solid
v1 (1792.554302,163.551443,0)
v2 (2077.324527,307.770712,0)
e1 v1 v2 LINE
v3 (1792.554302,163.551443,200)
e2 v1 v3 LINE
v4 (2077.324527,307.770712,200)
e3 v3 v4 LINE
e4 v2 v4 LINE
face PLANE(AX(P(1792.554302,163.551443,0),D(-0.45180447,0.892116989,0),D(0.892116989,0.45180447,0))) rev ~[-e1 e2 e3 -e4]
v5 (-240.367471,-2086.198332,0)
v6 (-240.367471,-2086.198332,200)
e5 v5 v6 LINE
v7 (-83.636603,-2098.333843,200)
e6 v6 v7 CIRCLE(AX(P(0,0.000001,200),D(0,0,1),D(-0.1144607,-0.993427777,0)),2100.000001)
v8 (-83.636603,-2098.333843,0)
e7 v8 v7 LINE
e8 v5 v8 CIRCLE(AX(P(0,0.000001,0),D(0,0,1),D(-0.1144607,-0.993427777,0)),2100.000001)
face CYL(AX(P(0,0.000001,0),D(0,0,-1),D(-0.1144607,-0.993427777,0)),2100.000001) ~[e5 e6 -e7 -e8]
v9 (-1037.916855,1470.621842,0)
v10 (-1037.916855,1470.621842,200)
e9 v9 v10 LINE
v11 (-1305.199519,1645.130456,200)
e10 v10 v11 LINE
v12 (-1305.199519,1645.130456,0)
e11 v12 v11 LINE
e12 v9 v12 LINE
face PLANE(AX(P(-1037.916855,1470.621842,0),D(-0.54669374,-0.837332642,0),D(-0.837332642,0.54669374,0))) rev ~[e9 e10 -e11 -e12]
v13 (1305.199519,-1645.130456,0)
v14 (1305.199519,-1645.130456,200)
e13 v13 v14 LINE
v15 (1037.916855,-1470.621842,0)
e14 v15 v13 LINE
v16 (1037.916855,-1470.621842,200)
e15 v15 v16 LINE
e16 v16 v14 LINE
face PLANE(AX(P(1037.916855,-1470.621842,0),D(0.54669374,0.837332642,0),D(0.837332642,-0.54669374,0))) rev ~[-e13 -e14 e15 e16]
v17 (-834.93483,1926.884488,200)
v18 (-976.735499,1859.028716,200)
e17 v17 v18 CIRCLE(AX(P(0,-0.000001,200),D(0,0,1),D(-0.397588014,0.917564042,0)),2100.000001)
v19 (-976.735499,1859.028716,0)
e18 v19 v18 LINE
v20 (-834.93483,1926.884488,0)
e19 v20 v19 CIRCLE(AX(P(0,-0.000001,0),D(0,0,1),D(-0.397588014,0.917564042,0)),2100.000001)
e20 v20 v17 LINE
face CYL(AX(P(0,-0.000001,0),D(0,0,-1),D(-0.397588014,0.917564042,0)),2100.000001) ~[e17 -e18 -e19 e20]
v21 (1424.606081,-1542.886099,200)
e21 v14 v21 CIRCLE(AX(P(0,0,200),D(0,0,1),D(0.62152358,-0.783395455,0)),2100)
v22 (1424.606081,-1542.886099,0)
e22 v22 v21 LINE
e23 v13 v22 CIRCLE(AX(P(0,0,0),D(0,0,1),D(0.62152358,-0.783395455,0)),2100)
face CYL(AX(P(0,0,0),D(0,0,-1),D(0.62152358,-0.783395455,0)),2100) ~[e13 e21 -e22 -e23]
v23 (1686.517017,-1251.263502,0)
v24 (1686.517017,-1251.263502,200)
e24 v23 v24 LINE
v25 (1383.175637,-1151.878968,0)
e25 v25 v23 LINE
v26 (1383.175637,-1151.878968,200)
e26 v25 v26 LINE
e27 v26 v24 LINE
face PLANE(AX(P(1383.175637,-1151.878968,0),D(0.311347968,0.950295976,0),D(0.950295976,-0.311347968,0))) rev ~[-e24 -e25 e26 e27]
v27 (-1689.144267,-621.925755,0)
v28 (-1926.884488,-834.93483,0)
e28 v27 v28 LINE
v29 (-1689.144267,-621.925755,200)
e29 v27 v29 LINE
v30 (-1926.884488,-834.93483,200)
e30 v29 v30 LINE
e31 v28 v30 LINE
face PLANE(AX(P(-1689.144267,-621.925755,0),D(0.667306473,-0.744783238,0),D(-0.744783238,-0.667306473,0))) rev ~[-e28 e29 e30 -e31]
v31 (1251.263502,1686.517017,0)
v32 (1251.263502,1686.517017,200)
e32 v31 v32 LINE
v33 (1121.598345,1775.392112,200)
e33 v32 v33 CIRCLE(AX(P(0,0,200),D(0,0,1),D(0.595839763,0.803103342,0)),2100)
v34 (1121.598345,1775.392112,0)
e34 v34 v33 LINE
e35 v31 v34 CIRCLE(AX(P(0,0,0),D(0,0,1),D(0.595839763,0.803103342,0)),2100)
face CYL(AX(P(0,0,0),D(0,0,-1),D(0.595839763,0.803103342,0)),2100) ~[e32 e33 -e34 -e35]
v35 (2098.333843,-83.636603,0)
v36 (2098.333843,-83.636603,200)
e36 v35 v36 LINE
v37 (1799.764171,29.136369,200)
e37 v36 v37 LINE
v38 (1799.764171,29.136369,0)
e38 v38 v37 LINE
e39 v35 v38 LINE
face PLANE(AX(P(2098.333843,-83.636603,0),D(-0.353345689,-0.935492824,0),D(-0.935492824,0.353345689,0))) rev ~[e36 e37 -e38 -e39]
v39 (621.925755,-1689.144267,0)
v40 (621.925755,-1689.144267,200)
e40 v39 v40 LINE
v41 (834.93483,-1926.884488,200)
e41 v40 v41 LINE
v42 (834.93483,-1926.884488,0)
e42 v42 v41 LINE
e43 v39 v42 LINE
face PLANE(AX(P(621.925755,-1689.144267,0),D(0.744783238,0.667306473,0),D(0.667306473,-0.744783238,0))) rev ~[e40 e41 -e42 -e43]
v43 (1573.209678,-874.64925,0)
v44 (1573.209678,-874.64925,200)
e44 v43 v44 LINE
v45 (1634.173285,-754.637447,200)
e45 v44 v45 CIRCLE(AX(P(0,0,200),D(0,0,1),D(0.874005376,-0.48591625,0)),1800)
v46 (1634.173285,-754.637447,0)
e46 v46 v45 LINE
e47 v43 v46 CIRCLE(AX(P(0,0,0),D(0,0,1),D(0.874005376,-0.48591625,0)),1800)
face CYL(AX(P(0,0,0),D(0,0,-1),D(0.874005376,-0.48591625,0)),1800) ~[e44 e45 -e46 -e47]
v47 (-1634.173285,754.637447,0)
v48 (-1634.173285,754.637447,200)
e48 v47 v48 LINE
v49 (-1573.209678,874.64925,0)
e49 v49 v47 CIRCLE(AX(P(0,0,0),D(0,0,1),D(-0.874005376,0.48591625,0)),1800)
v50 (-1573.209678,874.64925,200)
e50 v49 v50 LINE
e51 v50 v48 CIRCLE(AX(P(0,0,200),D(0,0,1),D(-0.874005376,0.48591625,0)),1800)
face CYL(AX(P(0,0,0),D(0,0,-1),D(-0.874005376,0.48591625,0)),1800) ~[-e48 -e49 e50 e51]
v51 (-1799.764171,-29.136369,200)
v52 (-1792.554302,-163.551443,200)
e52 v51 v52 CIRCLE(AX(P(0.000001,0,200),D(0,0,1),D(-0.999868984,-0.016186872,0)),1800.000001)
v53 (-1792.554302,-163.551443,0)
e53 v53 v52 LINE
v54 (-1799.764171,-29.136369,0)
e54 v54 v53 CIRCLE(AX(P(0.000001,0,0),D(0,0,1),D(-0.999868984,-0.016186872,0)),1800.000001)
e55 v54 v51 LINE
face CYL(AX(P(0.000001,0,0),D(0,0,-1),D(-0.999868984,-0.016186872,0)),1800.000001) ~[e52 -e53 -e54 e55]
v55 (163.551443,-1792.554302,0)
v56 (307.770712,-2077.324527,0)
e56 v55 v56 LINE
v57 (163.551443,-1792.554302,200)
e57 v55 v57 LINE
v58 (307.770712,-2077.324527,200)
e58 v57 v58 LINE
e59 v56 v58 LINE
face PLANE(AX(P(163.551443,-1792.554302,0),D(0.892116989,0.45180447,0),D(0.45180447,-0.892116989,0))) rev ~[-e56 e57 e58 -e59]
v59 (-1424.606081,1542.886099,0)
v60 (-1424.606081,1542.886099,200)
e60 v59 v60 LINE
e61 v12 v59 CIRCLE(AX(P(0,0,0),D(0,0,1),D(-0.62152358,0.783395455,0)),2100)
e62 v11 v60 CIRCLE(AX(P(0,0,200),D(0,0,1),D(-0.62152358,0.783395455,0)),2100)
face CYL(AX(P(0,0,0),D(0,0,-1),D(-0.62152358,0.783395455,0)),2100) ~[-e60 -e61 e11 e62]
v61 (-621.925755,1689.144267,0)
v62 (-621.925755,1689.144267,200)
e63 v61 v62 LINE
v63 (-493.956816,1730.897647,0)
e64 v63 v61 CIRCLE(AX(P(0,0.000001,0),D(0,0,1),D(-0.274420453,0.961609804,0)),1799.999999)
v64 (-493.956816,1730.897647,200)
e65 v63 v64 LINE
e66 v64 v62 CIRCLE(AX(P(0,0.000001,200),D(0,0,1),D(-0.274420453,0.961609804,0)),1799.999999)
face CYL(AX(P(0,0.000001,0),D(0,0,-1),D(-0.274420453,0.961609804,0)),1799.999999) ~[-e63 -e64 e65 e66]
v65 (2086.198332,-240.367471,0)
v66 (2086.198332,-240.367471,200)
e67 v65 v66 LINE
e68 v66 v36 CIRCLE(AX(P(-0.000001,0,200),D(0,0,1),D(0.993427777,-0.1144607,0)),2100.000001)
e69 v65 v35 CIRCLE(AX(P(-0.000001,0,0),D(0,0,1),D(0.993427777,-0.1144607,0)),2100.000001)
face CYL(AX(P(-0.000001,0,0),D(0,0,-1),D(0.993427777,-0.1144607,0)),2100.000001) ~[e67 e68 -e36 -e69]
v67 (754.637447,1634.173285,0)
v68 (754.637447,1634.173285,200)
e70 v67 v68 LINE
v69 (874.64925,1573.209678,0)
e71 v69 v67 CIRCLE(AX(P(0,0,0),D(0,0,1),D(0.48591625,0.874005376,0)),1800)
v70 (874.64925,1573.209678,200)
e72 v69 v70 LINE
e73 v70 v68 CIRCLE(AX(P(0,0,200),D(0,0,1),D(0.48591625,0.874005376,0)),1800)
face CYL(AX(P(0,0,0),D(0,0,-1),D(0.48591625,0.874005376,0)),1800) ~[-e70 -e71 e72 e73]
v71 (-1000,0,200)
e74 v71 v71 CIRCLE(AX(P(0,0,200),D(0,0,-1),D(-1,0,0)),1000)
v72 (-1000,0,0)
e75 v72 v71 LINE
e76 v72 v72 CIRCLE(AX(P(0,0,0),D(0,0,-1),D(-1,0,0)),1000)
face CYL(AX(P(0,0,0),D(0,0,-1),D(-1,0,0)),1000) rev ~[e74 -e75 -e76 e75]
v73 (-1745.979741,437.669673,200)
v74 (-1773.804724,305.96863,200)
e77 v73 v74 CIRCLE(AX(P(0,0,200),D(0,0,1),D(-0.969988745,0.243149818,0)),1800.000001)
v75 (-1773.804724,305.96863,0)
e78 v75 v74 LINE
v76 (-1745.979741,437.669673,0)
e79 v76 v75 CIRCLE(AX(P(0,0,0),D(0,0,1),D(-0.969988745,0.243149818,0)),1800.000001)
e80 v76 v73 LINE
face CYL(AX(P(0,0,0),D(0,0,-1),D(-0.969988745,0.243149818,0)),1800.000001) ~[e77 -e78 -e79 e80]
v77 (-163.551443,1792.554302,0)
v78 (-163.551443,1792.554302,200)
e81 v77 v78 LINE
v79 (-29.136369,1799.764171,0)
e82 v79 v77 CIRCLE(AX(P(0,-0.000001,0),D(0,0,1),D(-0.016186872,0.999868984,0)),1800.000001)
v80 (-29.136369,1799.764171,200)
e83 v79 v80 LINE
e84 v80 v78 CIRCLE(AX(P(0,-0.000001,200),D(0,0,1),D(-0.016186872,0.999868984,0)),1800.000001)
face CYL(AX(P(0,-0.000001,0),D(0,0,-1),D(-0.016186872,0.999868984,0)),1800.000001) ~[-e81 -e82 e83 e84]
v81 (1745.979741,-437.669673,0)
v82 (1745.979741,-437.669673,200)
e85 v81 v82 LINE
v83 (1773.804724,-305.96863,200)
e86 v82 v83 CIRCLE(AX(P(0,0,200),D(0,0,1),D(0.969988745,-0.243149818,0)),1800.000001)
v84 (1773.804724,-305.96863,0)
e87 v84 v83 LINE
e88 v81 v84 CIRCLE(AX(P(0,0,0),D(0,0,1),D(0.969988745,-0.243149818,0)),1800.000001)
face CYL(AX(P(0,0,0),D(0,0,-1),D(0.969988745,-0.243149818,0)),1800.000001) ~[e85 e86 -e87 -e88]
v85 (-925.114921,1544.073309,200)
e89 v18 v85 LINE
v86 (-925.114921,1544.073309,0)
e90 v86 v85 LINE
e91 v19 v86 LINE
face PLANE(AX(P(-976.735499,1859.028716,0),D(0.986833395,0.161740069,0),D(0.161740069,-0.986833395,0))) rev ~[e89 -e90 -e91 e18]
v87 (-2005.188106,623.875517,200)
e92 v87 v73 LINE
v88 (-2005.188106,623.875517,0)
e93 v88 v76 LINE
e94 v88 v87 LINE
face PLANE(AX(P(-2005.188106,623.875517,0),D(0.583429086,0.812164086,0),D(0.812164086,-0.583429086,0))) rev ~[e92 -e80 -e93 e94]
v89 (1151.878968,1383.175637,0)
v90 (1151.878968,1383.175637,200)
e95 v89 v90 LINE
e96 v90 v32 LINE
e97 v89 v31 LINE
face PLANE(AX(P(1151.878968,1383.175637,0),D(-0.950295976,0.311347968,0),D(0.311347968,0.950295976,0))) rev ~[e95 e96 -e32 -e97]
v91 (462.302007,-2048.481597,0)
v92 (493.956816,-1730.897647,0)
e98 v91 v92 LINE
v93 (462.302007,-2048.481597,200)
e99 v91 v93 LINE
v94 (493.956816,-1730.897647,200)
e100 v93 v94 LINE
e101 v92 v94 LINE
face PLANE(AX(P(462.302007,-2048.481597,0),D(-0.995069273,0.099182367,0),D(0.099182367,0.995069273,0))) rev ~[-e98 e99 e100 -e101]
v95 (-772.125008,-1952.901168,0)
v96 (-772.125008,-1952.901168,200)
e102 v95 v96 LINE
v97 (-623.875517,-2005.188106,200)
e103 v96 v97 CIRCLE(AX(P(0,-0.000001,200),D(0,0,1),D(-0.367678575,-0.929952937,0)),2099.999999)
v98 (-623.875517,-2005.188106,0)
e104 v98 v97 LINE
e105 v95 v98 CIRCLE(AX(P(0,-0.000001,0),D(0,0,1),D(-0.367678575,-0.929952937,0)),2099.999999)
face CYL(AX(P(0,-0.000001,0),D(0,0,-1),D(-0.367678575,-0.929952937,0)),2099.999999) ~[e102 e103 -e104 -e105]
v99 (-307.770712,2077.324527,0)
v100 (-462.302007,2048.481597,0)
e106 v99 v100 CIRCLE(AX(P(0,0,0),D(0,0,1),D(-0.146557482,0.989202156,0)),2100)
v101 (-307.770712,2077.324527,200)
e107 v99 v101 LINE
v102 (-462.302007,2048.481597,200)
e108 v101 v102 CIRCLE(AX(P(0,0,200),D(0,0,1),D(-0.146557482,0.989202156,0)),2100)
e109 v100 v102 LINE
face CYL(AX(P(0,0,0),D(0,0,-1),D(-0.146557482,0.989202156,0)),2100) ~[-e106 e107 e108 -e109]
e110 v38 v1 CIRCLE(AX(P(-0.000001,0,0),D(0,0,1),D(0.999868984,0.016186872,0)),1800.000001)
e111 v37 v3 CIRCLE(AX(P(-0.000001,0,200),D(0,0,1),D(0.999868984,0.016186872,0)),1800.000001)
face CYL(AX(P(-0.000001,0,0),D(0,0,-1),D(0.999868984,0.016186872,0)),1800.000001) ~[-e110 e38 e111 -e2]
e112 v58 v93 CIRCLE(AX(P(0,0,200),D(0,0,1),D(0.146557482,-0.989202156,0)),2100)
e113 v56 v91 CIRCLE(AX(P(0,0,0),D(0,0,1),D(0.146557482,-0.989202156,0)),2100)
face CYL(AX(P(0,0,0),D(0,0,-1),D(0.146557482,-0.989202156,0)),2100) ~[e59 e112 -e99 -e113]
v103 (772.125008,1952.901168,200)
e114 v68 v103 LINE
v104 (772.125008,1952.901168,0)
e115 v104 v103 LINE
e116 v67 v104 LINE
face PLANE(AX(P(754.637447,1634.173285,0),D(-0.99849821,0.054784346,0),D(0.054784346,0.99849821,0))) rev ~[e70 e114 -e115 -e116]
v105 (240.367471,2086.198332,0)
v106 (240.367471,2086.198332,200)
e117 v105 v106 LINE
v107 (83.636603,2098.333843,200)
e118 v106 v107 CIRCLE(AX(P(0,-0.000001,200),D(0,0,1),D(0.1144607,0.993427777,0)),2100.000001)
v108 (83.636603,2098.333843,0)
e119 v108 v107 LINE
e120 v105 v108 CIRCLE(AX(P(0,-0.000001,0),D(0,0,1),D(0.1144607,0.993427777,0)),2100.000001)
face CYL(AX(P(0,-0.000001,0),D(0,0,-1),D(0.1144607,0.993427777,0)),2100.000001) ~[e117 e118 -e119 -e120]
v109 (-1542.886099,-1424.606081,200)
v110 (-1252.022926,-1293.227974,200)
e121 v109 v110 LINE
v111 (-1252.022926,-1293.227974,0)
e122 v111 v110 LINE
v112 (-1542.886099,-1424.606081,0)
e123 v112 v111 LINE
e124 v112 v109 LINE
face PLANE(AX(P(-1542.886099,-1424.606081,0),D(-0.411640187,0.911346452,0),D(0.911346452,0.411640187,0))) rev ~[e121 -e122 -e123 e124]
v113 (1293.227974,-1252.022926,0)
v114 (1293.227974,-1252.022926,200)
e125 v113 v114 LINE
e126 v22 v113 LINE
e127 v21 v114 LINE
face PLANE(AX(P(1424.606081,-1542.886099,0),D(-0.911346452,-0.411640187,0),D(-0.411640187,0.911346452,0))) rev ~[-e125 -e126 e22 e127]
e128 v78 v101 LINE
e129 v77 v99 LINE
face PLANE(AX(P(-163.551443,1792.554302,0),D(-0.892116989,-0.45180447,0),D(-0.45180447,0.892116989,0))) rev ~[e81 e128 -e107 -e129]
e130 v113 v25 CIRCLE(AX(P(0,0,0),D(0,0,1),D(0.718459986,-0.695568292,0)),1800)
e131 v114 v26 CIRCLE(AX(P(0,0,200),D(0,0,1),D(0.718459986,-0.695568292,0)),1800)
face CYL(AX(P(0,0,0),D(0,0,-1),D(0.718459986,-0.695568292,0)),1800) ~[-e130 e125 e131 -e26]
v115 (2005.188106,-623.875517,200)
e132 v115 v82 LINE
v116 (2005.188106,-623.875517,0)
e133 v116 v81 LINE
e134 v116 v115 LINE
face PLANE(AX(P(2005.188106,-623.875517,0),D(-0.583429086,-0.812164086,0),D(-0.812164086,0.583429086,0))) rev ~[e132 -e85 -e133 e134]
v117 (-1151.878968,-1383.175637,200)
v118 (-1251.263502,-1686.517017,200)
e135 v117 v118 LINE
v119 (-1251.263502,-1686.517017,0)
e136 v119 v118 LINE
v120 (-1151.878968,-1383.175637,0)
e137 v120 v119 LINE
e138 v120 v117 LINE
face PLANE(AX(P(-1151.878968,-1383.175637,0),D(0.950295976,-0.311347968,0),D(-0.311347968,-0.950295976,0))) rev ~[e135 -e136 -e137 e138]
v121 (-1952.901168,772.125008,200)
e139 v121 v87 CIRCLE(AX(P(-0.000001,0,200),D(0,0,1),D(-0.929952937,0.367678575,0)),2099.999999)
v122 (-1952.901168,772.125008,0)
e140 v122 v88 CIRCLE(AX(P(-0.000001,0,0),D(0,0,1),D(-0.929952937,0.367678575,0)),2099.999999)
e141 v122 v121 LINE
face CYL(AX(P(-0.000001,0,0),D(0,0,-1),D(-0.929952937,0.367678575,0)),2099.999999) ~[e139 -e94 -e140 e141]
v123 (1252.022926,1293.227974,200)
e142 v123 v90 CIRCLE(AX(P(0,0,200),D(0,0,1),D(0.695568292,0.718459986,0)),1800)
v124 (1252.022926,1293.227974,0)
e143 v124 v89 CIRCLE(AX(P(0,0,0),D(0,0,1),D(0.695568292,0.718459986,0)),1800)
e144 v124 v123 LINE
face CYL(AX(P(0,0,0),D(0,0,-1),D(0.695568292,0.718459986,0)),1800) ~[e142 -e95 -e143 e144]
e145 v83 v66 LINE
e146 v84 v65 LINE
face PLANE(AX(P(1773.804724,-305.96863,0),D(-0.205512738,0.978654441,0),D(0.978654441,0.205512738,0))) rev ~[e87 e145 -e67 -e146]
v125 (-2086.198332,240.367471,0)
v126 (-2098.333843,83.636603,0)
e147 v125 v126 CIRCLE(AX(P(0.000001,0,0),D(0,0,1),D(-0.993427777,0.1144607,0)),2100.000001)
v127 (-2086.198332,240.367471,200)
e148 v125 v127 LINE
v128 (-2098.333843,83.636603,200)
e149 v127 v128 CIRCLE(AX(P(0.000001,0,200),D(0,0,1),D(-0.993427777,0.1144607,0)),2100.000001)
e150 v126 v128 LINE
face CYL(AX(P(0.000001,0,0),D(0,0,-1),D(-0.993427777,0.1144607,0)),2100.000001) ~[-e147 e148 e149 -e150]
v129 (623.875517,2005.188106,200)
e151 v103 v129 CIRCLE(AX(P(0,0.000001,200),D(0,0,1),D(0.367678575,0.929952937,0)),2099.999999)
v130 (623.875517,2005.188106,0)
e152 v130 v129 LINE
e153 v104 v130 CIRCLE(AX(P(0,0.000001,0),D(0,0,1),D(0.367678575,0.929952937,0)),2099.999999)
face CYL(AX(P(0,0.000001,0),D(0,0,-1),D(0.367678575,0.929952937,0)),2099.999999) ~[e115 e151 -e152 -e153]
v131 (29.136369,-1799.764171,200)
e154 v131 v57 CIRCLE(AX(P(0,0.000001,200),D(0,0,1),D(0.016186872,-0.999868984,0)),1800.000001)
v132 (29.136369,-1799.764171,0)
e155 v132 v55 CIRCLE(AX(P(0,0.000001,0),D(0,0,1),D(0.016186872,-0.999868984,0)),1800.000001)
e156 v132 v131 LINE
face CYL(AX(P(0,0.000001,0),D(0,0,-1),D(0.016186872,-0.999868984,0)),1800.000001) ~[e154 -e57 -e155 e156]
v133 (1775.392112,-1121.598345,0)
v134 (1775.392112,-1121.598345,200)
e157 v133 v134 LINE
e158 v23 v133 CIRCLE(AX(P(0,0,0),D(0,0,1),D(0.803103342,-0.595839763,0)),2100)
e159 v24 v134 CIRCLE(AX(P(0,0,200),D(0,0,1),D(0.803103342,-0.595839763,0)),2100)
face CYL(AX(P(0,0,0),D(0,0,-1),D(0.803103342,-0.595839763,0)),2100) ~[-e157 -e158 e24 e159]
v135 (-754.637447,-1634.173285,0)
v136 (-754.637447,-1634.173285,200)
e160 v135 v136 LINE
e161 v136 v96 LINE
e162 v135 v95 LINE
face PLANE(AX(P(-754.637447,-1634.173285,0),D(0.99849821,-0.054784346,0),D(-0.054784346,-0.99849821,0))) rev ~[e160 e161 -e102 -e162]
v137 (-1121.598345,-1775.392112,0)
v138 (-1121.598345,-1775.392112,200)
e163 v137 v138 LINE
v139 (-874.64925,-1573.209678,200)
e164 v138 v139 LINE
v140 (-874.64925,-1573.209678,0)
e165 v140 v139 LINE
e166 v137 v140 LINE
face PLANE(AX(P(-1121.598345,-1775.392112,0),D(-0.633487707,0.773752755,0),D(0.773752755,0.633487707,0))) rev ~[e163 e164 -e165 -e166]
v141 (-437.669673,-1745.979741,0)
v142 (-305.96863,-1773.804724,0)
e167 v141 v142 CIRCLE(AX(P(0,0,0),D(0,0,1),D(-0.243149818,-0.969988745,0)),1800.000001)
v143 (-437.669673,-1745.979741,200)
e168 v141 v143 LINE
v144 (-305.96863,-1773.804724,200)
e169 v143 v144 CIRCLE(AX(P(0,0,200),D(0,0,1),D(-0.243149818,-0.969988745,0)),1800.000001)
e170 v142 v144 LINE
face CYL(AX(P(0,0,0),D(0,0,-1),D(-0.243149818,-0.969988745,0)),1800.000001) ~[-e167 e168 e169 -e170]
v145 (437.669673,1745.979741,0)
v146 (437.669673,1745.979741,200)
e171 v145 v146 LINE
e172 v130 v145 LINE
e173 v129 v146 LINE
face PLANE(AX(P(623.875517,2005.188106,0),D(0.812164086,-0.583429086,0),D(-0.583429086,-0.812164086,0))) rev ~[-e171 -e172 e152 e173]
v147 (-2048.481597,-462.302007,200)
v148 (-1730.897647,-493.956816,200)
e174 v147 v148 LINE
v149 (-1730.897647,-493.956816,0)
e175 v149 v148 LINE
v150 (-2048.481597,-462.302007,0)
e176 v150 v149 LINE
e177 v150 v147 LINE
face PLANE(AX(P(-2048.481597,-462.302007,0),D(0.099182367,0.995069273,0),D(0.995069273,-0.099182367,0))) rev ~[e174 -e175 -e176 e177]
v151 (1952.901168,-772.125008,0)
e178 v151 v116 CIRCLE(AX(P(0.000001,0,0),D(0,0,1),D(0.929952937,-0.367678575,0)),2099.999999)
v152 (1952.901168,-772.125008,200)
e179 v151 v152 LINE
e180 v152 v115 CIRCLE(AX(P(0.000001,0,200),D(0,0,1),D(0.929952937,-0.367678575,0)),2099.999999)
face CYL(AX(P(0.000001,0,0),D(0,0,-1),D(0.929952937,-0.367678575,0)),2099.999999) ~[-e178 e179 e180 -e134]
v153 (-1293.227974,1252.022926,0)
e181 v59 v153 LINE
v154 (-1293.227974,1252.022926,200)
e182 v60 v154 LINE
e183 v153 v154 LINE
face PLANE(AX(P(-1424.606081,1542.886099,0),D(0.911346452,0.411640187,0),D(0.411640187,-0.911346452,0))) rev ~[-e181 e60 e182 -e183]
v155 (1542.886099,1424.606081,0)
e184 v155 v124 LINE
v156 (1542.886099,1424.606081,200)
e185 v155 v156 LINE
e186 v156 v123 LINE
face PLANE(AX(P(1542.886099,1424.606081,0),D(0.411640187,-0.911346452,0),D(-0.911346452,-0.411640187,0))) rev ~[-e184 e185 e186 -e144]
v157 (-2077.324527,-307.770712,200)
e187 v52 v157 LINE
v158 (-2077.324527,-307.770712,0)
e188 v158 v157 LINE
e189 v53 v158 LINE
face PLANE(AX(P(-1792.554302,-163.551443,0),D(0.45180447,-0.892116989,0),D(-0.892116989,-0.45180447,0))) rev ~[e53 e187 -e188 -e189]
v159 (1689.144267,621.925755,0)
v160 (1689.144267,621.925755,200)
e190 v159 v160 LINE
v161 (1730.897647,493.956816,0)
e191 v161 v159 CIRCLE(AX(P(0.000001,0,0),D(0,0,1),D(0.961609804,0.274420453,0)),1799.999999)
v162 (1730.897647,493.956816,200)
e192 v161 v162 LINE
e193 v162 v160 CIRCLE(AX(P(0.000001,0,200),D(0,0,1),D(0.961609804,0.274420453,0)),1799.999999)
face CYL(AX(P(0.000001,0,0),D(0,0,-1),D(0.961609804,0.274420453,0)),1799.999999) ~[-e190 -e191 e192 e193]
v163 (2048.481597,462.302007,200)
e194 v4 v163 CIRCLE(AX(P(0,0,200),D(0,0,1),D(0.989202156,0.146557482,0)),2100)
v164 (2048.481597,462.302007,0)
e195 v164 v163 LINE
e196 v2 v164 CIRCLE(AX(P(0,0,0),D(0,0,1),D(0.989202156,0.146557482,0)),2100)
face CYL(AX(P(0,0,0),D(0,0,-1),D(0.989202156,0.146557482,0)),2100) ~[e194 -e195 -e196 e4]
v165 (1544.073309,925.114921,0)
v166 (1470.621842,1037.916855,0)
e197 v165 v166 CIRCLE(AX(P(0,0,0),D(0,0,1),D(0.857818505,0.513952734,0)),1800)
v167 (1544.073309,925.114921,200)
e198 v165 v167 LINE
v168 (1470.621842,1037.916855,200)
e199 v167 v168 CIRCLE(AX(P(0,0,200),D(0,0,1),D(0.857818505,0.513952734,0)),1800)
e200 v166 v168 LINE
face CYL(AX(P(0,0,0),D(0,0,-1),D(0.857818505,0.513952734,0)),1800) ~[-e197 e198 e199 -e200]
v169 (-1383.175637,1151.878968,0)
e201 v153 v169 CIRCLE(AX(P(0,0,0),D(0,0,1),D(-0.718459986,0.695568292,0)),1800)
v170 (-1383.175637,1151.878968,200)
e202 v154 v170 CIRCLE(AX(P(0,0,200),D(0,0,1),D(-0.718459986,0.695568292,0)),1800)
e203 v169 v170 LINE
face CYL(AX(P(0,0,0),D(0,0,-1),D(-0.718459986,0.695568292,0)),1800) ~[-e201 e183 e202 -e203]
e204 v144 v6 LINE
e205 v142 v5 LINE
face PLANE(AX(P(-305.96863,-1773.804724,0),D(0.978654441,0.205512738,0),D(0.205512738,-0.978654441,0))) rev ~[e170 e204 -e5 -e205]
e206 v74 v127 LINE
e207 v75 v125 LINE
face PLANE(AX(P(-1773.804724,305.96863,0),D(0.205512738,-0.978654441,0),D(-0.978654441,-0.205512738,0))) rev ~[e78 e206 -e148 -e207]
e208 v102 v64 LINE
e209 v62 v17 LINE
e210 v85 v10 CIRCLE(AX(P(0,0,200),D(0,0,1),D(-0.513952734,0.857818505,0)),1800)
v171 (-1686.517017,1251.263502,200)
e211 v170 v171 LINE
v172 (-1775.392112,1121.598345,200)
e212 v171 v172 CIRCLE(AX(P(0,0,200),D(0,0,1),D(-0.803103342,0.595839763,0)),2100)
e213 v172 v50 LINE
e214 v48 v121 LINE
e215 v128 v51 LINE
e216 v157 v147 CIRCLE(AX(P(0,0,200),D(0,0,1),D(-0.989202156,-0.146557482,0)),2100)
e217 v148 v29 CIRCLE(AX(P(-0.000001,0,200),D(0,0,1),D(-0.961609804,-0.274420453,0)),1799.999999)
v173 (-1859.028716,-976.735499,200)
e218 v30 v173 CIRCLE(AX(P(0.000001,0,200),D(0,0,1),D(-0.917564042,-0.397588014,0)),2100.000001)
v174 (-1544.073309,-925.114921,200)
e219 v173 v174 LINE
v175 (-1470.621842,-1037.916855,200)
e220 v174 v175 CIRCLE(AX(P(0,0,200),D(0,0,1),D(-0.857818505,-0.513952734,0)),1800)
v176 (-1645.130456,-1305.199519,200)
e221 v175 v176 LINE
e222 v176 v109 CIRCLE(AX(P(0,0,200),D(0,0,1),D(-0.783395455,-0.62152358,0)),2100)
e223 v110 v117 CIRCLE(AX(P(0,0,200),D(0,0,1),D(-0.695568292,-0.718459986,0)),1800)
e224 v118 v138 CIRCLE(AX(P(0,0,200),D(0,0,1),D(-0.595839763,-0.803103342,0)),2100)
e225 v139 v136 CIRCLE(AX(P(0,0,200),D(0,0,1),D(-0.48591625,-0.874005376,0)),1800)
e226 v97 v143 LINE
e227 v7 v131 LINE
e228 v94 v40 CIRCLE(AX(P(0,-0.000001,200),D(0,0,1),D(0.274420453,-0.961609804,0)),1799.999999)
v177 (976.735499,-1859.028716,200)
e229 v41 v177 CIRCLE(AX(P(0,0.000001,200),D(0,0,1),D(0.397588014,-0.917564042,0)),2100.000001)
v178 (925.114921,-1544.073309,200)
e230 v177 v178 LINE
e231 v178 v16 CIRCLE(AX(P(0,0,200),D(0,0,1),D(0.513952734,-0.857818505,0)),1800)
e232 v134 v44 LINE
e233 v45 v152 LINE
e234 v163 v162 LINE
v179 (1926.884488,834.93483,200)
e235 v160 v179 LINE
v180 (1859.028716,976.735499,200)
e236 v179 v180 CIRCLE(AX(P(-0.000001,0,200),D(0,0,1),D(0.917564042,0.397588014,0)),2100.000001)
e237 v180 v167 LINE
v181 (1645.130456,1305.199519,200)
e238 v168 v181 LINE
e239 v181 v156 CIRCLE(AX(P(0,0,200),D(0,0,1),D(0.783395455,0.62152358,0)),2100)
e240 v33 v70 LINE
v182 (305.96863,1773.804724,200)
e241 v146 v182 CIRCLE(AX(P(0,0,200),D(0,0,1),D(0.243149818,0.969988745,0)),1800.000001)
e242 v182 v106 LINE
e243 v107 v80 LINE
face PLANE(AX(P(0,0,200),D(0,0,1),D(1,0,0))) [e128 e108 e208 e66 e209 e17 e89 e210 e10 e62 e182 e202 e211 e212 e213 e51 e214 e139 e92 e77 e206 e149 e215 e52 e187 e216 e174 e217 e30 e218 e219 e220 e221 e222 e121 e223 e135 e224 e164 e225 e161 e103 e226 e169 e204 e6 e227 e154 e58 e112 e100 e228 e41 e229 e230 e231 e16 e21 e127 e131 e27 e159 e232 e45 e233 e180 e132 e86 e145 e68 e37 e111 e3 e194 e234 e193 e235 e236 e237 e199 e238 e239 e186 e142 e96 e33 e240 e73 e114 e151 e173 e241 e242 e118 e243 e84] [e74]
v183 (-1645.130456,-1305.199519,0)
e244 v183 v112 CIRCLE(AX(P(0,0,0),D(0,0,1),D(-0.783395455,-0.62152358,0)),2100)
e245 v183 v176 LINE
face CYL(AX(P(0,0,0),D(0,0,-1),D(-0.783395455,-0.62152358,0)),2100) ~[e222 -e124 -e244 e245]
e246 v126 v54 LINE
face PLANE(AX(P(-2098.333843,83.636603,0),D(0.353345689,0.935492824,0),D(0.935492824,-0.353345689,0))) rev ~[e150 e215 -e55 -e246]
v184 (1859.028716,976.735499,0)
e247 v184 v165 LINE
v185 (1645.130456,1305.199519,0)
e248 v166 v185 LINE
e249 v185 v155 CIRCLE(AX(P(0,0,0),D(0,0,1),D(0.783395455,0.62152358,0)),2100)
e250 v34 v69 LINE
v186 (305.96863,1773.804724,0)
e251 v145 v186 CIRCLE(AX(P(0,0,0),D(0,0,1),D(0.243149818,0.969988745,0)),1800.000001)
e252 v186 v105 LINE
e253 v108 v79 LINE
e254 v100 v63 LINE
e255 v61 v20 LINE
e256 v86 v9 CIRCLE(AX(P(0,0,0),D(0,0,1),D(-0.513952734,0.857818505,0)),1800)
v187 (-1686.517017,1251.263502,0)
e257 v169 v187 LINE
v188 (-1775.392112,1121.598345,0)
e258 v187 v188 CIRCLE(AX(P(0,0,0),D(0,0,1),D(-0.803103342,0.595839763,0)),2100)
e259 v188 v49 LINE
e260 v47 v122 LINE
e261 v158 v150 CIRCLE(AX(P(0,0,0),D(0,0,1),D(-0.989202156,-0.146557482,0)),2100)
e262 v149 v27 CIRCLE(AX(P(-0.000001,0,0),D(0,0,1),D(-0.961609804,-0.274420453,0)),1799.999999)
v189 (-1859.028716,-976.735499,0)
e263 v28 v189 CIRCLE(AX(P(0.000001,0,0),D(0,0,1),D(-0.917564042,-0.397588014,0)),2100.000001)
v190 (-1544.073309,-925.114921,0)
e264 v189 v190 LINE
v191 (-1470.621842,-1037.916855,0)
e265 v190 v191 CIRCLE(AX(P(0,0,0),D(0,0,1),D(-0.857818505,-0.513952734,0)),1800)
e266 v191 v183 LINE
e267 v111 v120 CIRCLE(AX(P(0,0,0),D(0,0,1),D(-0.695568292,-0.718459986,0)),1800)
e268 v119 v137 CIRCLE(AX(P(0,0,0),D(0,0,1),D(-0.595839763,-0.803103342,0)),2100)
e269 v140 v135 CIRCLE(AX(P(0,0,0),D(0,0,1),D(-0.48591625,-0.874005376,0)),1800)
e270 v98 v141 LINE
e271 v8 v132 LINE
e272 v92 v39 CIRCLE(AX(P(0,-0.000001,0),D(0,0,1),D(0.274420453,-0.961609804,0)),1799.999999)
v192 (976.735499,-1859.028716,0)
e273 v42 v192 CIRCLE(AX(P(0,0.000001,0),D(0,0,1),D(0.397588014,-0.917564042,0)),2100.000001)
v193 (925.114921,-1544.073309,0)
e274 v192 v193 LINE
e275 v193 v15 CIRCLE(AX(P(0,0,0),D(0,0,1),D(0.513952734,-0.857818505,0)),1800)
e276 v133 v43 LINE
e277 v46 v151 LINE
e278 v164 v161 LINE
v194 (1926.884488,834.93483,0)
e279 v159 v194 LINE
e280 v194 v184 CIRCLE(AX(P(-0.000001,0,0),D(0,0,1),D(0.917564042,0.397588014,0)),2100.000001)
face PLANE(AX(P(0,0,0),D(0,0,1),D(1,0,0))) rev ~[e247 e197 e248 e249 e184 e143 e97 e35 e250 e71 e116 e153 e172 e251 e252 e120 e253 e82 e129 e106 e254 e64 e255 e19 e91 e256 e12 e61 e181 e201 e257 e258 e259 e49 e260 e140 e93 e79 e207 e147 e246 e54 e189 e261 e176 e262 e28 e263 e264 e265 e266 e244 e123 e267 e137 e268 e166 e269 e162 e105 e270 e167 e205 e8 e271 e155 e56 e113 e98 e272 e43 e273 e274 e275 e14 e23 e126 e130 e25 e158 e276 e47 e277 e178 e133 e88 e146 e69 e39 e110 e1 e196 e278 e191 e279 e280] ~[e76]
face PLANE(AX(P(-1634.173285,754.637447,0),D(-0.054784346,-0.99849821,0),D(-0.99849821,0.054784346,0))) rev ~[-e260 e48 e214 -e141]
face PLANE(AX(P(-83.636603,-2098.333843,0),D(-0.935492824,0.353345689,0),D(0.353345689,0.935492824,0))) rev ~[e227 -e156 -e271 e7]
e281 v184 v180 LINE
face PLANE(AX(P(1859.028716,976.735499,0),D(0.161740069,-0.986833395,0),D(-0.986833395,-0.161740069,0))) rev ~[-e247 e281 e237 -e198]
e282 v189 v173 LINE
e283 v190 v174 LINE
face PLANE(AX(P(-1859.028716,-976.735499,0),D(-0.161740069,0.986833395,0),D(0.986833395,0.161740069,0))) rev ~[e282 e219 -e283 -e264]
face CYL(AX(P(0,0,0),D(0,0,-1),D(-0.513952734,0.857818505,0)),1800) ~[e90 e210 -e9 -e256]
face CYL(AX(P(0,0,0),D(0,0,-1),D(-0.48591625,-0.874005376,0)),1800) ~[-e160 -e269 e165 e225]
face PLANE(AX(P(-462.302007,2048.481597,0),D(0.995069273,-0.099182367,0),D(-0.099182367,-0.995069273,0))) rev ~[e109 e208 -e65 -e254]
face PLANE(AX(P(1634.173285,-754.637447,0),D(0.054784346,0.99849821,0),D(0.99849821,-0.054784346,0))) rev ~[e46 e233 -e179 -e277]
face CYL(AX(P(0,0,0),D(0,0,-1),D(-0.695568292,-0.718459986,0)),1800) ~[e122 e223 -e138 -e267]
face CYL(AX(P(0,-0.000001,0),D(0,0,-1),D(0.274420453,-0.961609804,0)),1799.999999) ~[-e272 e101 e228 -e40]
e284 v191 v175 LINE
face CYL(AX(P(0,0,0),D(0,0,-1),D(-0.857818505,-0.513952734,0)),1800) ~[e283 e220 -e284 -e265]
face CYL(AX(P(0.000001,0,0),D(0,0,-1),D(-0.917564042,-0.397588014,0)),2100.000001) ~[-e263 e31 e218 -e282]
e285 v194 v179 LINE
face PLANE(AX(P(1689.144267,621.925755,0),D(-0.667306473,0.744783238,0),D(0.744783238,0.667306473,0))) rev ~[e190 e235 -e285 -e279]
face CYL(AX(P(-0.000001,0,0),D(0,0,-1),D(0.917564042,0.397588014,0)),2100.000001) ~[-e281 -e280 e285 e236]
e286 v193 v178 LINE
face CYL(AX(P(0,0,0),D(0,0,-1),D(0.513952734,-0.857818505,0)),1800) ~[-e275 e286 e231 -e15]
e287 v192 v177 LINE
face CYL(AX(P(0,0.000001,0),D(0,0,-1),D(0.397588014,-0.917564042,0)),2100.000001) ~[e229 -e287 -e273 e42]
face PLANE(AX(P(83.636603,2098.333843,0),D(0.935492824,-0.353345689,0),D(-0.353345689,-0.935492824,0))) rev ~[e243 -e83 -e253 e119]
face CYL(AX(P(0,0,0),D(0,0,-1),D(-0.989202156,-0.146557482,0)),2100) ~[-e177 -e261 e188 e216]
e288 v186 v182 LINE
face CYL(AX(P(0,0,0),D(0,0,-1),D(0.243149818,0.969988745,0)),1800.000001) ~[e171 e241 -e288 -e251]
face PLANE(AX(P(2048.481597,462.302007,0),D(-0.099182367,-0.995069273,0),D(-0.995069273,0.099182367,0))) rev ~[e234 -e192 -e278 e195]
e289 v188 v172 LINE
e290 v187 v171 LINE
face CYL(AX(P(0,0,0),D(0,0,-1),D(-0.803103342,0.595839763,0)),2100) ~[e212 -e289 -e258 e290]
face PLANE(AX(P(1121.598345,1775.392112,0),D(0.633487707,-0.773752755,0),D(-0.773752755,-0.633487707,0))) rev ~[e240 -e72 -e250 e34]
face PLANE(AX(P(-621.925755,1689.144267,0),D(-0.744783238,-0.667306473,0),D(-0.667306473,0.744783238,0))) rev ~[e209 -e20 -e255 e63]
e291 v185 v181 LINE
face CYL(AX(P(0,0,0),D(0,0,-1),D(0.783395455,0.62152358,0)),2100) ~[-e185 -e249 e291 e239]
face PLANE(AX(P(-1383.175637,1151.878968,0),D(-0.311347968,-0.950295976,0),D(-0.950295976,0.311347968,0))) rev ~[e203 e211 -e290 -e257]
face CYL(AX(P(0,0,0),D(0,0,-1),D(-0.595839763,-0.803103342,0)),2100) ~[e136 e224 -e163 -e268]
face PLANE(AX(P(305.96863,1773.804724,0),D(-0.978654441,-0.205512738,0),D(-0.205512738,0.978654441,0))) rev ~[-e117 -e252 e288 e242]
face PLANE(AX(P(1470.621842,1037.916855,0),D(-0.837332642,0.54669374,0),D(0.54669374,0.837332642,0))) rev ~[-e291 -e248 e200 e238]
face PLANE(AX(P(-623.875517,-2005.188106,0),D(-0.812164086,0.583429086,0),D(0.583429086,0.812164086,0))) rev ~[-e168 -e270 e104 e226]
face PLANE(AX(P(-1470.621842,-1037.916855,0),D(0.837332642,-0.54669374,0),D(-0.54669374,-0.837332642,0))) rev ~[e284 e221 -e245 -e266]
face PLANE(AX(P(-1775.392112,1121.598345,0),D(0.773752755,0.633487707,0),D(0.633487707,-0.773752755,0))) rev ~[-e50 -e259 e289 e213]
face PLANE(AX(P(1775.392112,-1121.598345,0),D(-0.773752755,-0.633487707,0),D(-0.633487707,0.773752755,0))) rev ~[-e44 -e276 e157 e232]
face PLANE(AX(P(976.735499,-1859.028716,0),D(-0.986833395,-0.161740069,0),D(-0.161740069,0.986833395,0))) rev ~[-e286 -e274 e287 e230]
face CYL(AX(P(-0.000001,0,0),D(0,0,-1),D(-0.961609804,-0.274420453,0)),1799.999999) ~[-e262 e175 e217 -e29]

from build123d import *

# Parameters (mm, degrees)
EXTRUDE_1_DEPTH     = 200
SKETCH_2_R          = 1000
CUT_EXTRUDE_1_DEPTH = 2975.224241243


with BuildPart() as part:
    # 草图1 → 凸台-拉伸1 (new body)
    with BuildSketch(Plane.XY):
        with BuildLine():
            Line((-462.302006573, 2048.481597359), (-493.956815672, 1730.89764696))
            ThreePointArc((-493.956815672, 1730.89764696), (-558.331724226, 1711.217603265), (-621.925755378, 1689.144267017))
            Line((-621.925755378, 1689.144267017), (-834.934829889, 1926.884487933))
            ThreePointArc((-834.934829889, 1926.884487933), (-906.470322883, 1894.283915819), (-976.735498633, 1859.028715677))
            Line((-976.735498633, 1859.028715677), (-925.114921486, 1544.073308507))
            ThreePointArc((-925.114921486, 1544.073308507), (-982.202738106, 1508.402393679), (-1037.916855383, 1470.621841709))
            Line((-1037.916855383, 1470.621841709), (-1305.199518648, 1645.130455776))
            ThreePointArc((-1305.199518648, 1645.130455776), (-1365.859849883, 1595.125973231), (-1424.606080592, 1542.886099211))
            Line((-1424.606080592, 1542.886099211), (-1293.227974224, 1252.022925782))
            ThreePointArc((-1293.227974224, 1252.022925782), (-1339.138258551, 1202.792053717), (-1383.175636934, 1151.878968205))
            Line((-1383.175636934, 1151.878968205), (-1686.517017155, 1251.263501764))
            ThreePointArc((-1686.517017155, 1251.263501764), (-1732.168285303, 1187.262831638), (-1775.392112432, 1121.598344825))
            Line((-1775.392112432, 1121.598344825), (-1573.20967768, 874.64924973))
            ThreePointArc((-1573.20967768, 874.64924973), (-1604.813719706, 815.213423002), (-1634.173284633, 754.637446588))
            Line((-1634.173284633, 754.637446588), (-1952.901168044, 772.125007918))
            ThreePointArc((-1952.901168044, 772.125007918), (-1980.432314624, 698.489690113), (-2005.188105784, 623.875516767))
            Line((-2005.188105784, 623.875516767), (-1745.979741454, 437.669672735))
            ThreePointArc((-1745.979741454, 437.669672735), (-1761.123777943, 372.079344714), (-1773.804723583, 305.968630084))
            Line((-1773.804723583, 305.968630084), (-2086.198331653, 240.367470778))
            ThreePointArc((-2086.198331653, 240.367470778), (-2093.733154521, 162.115630516), (-2098.333843457, 83.636603245))
            Line((-2098.333843457, 83.636603245), (-1799.764171216, -29.136369173))
            ThreePointArc((-1799.764171216, -29.136369173), (-1797.416161108, -96.411326027), (-1792.554301972, -163.551442924))
            Line((-1792.554301972, -163.551442924), (-2077.324526565, -307.770712268))
            ThreePointArc((-2077.324526565, -307.770712268), (-2064.349539996, -385.306341392), (-2048.481597359, -462.302006573))
            Line((-2048.481597359, -462.302006573), (-1730.89764696, -493.956815672))
            ThreePointArc((-1730.89764696, -493.956815672), (-1711.217603265, -558.331724226), (-1689.144267017, -621.925755378))
            Line((-1689.144267017, -621.925755378), (-1926.884487933, -834.934829889))
            ThreePointArc((-1926.884487933, -834.934829889), (-1894.283915819, -906.470322883), (-1859.028715677, -976.735498633))
            Line((-1859.028715677, -976.735498633), (-1544.073308507, -925.114921486))
            ThreePointArc((-1544.073308507, -925.114921486), (-1508.402393679, -982.202738106), (-1470.621841709, -1037.916855383))
            Line((-1470.621841709, -1037.916855383), (-1645.130455776, -1305.199518648))
            ThreePointArc((-1645.130455776, -1305.199518648), (-1595.125973231, -1365.859849883), (-1542.886099211, -1424.606080592))
            Line((-1542.886099211, -1424.606080592), (-1252.022925782, -1293.227974224))
            ThreePointArc((-1252.022925782, -1293.227974224), (-1202.792053717, -1339.138258551), (-1151.878968205, -1383.175636934))
            Line((-1151.878968205, -1383.175636934), (-1251.263501764, -1686.517017155))
            ThreePointArc((-1251.263501764, -1686.517017155), (-1187.262831638, -1732.168285303), (-1121.598344825, -1775.392112432))
            Line((-1121.598344825, -1775.392112432), (-874.64924973, -1573.20967768))
            ThreePointArc((-874.64924973, -1573.20967768), (-815.213423002, -1604.813719706), (-754.637446588, -1634.173284633))
            Line((-754.637446588, -1634.173284633), (-772.125007918, -1952.901168044))
            ThreePointArc((-772.125007918, -1952.901168044), (-698.489690113, -1980.432314624), (-623.875516767, -2005.188105784))
            Line((-623.875516767, -2005.188105784), (-437.669672735, -1745.979741454))
            ThreePointArc((-437.669672735, -1745.979741454), (-372.079344714, -1761.123777943), (-305.968630084, -1773.804723583))
            Line((-305.968630084, -1773.804723583), (-240.367470778, -2086.198331653))
            ThreePointArc((-240.367470778, -2086.198331653), (-162.115630516, -2093.733154521), (-83.636603245, -2098.333843457))
            Line((-83.636603245, -2098.333843457), (29.136369173, -1799.764171216))
            ThreePointArc((29.136369173, -1799.764171216), (96.411326027, -1797.416161108), (163.551442924, -1792.554301972))
            Line((163.551442924, -1792.554301972), (307.770712268, -2077.324526565))
            ThreePointArc((307.770712268, -2077.324526565), (385.306341392, -2064.349539996), (462.302006573, -2048.481597359))
            Line((462.302006573, -2048.481597359), (493.956815672, -1730.89764696))
            ThreePointArc((493.956815672, -1730.89764696), (558.331724226, -1711.217603265), (621.925755378, -1689.144267017))
            Line((621.925755378, -1689.144267017), (834.934829889, -1926.884487933))
            ThreePointArc((834.934829889, -1926.884487933), (906.470322883, -1894.283915819), (976.735498633, -1859.028715677))
            Line((976.735498633, -1859.028715677), (925.114921486, -1544.073308507))
            ThreePointArc((925.114921486, -1544.073308507), (982.202738106, -1508.402393679), (1037.916855383, -1470.621841709))
            Line((1037.916855383, -1470.621841709), (1305.199518648, -1645.130455776))
            ThreePointArc((1305.199518648, -1645.130455776), (1365.859849883, -1595.125973231), (1424.606080592, -1542.886099211))
            Line((1424.606080592, -1542.886099211), (1293.227974224, -1252.022925782))
            ThreePointArc((1293.227974224, -1252.022925782), (1339.138258551, -1202.792053717), (1383.175636934, -1151.878968205))
            Line((1383.175636934, -1151.878968205), (1686.517017155, -1251.263501764))
            ThreePointArc((1686.517017155, -1251.263501764), (1732.168285303, -1187.262831638), (1775.392112432, -1121.598344825))
            Line((1775.392112432, -1121.598344825), (1573.20967768, -874.64924973))
            ThreePointArc((1573.20967768, -874.64924973), (1604.813719706, -815.213423002), (1634.173284633, -754.637446588))
            Line((1634.173284633, -754.637446588), (1952.901168044, -772.125007918))
            ThreePointArc((1952.901168044, -772.125007918), (1980.432314624, -698.489690113), (2005.188105784, -623.875516767))
            Line((2005.188105784, -623.875516767), (1745.979741454, -437.669672735))
            ThreePointArc((1745.979741454, -437.669672735), (1761.123777943, -372.079344714), (1773.804723583, -305.968630084))
            Line((1773.804723583, -305.968630084), (2086.198331653, -240.367470778))
            ThreePointArc((2086.198331653, -240.367470778), (2093.733154521, -162.115630516), (2098.333843457, -83.636603245))
            Line((2098.333843457, -83.636603245), (1799.764171216, 29.136369173))
            ThreePointArc((1799.764171216, 29.136369173), (1797.416161108, 96.411326027), (1792.554301972, 163.551442924))
            Line((1792.554301972, 163.551442924), (2077.324526565, 307.770712268))
            ThreePointArc((2077.324526565, 307.770712268), (2064.349539996, 385.306341392), (2048.481597359, 462.302006573))
            Line((2048.481597359, 462.302006573), (1730.89764696, 493.956815672))
            ThreePointArc((1730.89764696, 493.956815672), (1711.217603265, 558.331724226), (1689.144267017, 621.925755378))
            Line((1689.144267017, 621.925755378), (1926.884487933, 834.934829889))
            ThreePointArc((1926.884487933, 834.934829889), (1894.283915819, 906.470322883), (1859.028715677, 976.735498633))
            Line((1859.028715677, 976.735498633), (1544.073308507, 925.114921486))
            ThreePointArc((1544.073308507, 925.114921486), (1508.402393679, 982.202738106), (1470.621841709, 1037.916855383))
            Line((1470.621841709, 1037.916855383), (1645.130455776, 1305.199518648))
            ThreePointArc((1645.130455776, 1305.199518648), (1595.125973231, 1365.859849883), (1542.886099211, 1424.606080592))
            Line((1542.886099211, 1424.606080592), (1252.022925782, 1293.227974224))
            ThreePointArc((1252.022925782, 1293.227974224), (1202.792053717, 1339.138258551), (1151.878968205, 1383.175636934))
            Line((1151.878968205, 1383.175636934), (1251.263501764, 1686.517017155))
            ThreePointArc((1251.263501764, 1686.517017155), (1187.262831638, 1732.168285303), (1121.598344825, 1775.392112432))
            Line((1121.598344825, 1775.392112432), (874.64924973, 1573.20967768))
            ThreePointArc((874.64924973, 1573.20967768), (815.213423002, 1604.813719706), (754.637446588, 1634.173284633))
            Line((754.637446588, 1634.173284633), (772.125007918, 1952.901168044))
            ThreePointArc((772.125007918, 1952.901168044), (698.489690113, 1980.432314624), (623.875516767, 2005.188105784))
            Line((623.875516767, 2005.188105784), (437.669672735, 1745.979741454))
            ThreePointArc((437.669672735, 1745.979741454), (372.079344714, 1761.123777943), (305.968630084, 1773.804723583))
            Line((305.968630084, 1773.804723583), (240.367470778, 2086.198331653))
            ThreePointArc((240.367470778, 2086.198331653), (162.115630516, 2093.733154521), (83.636603245, 2098.333843457))
            Line((83.636603245, 2098.333843457), (-29.136369173, 1799.764171216))
            ThreePointArc((-29.136369173, 1799.764171216), (-96.411326027, 1797.416161108), (-163.551442924, 1792.554301972))
            Line((-163.551442924, 1792.554301972), (-307.770712268, 2077.324526565))
            ThreePointArc((-307.770712268, 2077.324526565), (-385.306341392, 2064.349539996), (-462.302006573, 2048.481597359))
        make_face()
    extrude(amount=EXTRUDE_1_DEPTH)

    # 草图2 → 切除-拉伸1 (cut, through all)
    with BuildSketch(Plane(origin=(0, 0, 0), x_dir=(-1, 0, 0), z_dir=(0, 0, -1))):
        Circle(SKETCH_2_R)
    extrude(amount=-CUT_EXTRUDE_1_DEPTH, mode=Mode.SUBTRACT)


solid = part.part
